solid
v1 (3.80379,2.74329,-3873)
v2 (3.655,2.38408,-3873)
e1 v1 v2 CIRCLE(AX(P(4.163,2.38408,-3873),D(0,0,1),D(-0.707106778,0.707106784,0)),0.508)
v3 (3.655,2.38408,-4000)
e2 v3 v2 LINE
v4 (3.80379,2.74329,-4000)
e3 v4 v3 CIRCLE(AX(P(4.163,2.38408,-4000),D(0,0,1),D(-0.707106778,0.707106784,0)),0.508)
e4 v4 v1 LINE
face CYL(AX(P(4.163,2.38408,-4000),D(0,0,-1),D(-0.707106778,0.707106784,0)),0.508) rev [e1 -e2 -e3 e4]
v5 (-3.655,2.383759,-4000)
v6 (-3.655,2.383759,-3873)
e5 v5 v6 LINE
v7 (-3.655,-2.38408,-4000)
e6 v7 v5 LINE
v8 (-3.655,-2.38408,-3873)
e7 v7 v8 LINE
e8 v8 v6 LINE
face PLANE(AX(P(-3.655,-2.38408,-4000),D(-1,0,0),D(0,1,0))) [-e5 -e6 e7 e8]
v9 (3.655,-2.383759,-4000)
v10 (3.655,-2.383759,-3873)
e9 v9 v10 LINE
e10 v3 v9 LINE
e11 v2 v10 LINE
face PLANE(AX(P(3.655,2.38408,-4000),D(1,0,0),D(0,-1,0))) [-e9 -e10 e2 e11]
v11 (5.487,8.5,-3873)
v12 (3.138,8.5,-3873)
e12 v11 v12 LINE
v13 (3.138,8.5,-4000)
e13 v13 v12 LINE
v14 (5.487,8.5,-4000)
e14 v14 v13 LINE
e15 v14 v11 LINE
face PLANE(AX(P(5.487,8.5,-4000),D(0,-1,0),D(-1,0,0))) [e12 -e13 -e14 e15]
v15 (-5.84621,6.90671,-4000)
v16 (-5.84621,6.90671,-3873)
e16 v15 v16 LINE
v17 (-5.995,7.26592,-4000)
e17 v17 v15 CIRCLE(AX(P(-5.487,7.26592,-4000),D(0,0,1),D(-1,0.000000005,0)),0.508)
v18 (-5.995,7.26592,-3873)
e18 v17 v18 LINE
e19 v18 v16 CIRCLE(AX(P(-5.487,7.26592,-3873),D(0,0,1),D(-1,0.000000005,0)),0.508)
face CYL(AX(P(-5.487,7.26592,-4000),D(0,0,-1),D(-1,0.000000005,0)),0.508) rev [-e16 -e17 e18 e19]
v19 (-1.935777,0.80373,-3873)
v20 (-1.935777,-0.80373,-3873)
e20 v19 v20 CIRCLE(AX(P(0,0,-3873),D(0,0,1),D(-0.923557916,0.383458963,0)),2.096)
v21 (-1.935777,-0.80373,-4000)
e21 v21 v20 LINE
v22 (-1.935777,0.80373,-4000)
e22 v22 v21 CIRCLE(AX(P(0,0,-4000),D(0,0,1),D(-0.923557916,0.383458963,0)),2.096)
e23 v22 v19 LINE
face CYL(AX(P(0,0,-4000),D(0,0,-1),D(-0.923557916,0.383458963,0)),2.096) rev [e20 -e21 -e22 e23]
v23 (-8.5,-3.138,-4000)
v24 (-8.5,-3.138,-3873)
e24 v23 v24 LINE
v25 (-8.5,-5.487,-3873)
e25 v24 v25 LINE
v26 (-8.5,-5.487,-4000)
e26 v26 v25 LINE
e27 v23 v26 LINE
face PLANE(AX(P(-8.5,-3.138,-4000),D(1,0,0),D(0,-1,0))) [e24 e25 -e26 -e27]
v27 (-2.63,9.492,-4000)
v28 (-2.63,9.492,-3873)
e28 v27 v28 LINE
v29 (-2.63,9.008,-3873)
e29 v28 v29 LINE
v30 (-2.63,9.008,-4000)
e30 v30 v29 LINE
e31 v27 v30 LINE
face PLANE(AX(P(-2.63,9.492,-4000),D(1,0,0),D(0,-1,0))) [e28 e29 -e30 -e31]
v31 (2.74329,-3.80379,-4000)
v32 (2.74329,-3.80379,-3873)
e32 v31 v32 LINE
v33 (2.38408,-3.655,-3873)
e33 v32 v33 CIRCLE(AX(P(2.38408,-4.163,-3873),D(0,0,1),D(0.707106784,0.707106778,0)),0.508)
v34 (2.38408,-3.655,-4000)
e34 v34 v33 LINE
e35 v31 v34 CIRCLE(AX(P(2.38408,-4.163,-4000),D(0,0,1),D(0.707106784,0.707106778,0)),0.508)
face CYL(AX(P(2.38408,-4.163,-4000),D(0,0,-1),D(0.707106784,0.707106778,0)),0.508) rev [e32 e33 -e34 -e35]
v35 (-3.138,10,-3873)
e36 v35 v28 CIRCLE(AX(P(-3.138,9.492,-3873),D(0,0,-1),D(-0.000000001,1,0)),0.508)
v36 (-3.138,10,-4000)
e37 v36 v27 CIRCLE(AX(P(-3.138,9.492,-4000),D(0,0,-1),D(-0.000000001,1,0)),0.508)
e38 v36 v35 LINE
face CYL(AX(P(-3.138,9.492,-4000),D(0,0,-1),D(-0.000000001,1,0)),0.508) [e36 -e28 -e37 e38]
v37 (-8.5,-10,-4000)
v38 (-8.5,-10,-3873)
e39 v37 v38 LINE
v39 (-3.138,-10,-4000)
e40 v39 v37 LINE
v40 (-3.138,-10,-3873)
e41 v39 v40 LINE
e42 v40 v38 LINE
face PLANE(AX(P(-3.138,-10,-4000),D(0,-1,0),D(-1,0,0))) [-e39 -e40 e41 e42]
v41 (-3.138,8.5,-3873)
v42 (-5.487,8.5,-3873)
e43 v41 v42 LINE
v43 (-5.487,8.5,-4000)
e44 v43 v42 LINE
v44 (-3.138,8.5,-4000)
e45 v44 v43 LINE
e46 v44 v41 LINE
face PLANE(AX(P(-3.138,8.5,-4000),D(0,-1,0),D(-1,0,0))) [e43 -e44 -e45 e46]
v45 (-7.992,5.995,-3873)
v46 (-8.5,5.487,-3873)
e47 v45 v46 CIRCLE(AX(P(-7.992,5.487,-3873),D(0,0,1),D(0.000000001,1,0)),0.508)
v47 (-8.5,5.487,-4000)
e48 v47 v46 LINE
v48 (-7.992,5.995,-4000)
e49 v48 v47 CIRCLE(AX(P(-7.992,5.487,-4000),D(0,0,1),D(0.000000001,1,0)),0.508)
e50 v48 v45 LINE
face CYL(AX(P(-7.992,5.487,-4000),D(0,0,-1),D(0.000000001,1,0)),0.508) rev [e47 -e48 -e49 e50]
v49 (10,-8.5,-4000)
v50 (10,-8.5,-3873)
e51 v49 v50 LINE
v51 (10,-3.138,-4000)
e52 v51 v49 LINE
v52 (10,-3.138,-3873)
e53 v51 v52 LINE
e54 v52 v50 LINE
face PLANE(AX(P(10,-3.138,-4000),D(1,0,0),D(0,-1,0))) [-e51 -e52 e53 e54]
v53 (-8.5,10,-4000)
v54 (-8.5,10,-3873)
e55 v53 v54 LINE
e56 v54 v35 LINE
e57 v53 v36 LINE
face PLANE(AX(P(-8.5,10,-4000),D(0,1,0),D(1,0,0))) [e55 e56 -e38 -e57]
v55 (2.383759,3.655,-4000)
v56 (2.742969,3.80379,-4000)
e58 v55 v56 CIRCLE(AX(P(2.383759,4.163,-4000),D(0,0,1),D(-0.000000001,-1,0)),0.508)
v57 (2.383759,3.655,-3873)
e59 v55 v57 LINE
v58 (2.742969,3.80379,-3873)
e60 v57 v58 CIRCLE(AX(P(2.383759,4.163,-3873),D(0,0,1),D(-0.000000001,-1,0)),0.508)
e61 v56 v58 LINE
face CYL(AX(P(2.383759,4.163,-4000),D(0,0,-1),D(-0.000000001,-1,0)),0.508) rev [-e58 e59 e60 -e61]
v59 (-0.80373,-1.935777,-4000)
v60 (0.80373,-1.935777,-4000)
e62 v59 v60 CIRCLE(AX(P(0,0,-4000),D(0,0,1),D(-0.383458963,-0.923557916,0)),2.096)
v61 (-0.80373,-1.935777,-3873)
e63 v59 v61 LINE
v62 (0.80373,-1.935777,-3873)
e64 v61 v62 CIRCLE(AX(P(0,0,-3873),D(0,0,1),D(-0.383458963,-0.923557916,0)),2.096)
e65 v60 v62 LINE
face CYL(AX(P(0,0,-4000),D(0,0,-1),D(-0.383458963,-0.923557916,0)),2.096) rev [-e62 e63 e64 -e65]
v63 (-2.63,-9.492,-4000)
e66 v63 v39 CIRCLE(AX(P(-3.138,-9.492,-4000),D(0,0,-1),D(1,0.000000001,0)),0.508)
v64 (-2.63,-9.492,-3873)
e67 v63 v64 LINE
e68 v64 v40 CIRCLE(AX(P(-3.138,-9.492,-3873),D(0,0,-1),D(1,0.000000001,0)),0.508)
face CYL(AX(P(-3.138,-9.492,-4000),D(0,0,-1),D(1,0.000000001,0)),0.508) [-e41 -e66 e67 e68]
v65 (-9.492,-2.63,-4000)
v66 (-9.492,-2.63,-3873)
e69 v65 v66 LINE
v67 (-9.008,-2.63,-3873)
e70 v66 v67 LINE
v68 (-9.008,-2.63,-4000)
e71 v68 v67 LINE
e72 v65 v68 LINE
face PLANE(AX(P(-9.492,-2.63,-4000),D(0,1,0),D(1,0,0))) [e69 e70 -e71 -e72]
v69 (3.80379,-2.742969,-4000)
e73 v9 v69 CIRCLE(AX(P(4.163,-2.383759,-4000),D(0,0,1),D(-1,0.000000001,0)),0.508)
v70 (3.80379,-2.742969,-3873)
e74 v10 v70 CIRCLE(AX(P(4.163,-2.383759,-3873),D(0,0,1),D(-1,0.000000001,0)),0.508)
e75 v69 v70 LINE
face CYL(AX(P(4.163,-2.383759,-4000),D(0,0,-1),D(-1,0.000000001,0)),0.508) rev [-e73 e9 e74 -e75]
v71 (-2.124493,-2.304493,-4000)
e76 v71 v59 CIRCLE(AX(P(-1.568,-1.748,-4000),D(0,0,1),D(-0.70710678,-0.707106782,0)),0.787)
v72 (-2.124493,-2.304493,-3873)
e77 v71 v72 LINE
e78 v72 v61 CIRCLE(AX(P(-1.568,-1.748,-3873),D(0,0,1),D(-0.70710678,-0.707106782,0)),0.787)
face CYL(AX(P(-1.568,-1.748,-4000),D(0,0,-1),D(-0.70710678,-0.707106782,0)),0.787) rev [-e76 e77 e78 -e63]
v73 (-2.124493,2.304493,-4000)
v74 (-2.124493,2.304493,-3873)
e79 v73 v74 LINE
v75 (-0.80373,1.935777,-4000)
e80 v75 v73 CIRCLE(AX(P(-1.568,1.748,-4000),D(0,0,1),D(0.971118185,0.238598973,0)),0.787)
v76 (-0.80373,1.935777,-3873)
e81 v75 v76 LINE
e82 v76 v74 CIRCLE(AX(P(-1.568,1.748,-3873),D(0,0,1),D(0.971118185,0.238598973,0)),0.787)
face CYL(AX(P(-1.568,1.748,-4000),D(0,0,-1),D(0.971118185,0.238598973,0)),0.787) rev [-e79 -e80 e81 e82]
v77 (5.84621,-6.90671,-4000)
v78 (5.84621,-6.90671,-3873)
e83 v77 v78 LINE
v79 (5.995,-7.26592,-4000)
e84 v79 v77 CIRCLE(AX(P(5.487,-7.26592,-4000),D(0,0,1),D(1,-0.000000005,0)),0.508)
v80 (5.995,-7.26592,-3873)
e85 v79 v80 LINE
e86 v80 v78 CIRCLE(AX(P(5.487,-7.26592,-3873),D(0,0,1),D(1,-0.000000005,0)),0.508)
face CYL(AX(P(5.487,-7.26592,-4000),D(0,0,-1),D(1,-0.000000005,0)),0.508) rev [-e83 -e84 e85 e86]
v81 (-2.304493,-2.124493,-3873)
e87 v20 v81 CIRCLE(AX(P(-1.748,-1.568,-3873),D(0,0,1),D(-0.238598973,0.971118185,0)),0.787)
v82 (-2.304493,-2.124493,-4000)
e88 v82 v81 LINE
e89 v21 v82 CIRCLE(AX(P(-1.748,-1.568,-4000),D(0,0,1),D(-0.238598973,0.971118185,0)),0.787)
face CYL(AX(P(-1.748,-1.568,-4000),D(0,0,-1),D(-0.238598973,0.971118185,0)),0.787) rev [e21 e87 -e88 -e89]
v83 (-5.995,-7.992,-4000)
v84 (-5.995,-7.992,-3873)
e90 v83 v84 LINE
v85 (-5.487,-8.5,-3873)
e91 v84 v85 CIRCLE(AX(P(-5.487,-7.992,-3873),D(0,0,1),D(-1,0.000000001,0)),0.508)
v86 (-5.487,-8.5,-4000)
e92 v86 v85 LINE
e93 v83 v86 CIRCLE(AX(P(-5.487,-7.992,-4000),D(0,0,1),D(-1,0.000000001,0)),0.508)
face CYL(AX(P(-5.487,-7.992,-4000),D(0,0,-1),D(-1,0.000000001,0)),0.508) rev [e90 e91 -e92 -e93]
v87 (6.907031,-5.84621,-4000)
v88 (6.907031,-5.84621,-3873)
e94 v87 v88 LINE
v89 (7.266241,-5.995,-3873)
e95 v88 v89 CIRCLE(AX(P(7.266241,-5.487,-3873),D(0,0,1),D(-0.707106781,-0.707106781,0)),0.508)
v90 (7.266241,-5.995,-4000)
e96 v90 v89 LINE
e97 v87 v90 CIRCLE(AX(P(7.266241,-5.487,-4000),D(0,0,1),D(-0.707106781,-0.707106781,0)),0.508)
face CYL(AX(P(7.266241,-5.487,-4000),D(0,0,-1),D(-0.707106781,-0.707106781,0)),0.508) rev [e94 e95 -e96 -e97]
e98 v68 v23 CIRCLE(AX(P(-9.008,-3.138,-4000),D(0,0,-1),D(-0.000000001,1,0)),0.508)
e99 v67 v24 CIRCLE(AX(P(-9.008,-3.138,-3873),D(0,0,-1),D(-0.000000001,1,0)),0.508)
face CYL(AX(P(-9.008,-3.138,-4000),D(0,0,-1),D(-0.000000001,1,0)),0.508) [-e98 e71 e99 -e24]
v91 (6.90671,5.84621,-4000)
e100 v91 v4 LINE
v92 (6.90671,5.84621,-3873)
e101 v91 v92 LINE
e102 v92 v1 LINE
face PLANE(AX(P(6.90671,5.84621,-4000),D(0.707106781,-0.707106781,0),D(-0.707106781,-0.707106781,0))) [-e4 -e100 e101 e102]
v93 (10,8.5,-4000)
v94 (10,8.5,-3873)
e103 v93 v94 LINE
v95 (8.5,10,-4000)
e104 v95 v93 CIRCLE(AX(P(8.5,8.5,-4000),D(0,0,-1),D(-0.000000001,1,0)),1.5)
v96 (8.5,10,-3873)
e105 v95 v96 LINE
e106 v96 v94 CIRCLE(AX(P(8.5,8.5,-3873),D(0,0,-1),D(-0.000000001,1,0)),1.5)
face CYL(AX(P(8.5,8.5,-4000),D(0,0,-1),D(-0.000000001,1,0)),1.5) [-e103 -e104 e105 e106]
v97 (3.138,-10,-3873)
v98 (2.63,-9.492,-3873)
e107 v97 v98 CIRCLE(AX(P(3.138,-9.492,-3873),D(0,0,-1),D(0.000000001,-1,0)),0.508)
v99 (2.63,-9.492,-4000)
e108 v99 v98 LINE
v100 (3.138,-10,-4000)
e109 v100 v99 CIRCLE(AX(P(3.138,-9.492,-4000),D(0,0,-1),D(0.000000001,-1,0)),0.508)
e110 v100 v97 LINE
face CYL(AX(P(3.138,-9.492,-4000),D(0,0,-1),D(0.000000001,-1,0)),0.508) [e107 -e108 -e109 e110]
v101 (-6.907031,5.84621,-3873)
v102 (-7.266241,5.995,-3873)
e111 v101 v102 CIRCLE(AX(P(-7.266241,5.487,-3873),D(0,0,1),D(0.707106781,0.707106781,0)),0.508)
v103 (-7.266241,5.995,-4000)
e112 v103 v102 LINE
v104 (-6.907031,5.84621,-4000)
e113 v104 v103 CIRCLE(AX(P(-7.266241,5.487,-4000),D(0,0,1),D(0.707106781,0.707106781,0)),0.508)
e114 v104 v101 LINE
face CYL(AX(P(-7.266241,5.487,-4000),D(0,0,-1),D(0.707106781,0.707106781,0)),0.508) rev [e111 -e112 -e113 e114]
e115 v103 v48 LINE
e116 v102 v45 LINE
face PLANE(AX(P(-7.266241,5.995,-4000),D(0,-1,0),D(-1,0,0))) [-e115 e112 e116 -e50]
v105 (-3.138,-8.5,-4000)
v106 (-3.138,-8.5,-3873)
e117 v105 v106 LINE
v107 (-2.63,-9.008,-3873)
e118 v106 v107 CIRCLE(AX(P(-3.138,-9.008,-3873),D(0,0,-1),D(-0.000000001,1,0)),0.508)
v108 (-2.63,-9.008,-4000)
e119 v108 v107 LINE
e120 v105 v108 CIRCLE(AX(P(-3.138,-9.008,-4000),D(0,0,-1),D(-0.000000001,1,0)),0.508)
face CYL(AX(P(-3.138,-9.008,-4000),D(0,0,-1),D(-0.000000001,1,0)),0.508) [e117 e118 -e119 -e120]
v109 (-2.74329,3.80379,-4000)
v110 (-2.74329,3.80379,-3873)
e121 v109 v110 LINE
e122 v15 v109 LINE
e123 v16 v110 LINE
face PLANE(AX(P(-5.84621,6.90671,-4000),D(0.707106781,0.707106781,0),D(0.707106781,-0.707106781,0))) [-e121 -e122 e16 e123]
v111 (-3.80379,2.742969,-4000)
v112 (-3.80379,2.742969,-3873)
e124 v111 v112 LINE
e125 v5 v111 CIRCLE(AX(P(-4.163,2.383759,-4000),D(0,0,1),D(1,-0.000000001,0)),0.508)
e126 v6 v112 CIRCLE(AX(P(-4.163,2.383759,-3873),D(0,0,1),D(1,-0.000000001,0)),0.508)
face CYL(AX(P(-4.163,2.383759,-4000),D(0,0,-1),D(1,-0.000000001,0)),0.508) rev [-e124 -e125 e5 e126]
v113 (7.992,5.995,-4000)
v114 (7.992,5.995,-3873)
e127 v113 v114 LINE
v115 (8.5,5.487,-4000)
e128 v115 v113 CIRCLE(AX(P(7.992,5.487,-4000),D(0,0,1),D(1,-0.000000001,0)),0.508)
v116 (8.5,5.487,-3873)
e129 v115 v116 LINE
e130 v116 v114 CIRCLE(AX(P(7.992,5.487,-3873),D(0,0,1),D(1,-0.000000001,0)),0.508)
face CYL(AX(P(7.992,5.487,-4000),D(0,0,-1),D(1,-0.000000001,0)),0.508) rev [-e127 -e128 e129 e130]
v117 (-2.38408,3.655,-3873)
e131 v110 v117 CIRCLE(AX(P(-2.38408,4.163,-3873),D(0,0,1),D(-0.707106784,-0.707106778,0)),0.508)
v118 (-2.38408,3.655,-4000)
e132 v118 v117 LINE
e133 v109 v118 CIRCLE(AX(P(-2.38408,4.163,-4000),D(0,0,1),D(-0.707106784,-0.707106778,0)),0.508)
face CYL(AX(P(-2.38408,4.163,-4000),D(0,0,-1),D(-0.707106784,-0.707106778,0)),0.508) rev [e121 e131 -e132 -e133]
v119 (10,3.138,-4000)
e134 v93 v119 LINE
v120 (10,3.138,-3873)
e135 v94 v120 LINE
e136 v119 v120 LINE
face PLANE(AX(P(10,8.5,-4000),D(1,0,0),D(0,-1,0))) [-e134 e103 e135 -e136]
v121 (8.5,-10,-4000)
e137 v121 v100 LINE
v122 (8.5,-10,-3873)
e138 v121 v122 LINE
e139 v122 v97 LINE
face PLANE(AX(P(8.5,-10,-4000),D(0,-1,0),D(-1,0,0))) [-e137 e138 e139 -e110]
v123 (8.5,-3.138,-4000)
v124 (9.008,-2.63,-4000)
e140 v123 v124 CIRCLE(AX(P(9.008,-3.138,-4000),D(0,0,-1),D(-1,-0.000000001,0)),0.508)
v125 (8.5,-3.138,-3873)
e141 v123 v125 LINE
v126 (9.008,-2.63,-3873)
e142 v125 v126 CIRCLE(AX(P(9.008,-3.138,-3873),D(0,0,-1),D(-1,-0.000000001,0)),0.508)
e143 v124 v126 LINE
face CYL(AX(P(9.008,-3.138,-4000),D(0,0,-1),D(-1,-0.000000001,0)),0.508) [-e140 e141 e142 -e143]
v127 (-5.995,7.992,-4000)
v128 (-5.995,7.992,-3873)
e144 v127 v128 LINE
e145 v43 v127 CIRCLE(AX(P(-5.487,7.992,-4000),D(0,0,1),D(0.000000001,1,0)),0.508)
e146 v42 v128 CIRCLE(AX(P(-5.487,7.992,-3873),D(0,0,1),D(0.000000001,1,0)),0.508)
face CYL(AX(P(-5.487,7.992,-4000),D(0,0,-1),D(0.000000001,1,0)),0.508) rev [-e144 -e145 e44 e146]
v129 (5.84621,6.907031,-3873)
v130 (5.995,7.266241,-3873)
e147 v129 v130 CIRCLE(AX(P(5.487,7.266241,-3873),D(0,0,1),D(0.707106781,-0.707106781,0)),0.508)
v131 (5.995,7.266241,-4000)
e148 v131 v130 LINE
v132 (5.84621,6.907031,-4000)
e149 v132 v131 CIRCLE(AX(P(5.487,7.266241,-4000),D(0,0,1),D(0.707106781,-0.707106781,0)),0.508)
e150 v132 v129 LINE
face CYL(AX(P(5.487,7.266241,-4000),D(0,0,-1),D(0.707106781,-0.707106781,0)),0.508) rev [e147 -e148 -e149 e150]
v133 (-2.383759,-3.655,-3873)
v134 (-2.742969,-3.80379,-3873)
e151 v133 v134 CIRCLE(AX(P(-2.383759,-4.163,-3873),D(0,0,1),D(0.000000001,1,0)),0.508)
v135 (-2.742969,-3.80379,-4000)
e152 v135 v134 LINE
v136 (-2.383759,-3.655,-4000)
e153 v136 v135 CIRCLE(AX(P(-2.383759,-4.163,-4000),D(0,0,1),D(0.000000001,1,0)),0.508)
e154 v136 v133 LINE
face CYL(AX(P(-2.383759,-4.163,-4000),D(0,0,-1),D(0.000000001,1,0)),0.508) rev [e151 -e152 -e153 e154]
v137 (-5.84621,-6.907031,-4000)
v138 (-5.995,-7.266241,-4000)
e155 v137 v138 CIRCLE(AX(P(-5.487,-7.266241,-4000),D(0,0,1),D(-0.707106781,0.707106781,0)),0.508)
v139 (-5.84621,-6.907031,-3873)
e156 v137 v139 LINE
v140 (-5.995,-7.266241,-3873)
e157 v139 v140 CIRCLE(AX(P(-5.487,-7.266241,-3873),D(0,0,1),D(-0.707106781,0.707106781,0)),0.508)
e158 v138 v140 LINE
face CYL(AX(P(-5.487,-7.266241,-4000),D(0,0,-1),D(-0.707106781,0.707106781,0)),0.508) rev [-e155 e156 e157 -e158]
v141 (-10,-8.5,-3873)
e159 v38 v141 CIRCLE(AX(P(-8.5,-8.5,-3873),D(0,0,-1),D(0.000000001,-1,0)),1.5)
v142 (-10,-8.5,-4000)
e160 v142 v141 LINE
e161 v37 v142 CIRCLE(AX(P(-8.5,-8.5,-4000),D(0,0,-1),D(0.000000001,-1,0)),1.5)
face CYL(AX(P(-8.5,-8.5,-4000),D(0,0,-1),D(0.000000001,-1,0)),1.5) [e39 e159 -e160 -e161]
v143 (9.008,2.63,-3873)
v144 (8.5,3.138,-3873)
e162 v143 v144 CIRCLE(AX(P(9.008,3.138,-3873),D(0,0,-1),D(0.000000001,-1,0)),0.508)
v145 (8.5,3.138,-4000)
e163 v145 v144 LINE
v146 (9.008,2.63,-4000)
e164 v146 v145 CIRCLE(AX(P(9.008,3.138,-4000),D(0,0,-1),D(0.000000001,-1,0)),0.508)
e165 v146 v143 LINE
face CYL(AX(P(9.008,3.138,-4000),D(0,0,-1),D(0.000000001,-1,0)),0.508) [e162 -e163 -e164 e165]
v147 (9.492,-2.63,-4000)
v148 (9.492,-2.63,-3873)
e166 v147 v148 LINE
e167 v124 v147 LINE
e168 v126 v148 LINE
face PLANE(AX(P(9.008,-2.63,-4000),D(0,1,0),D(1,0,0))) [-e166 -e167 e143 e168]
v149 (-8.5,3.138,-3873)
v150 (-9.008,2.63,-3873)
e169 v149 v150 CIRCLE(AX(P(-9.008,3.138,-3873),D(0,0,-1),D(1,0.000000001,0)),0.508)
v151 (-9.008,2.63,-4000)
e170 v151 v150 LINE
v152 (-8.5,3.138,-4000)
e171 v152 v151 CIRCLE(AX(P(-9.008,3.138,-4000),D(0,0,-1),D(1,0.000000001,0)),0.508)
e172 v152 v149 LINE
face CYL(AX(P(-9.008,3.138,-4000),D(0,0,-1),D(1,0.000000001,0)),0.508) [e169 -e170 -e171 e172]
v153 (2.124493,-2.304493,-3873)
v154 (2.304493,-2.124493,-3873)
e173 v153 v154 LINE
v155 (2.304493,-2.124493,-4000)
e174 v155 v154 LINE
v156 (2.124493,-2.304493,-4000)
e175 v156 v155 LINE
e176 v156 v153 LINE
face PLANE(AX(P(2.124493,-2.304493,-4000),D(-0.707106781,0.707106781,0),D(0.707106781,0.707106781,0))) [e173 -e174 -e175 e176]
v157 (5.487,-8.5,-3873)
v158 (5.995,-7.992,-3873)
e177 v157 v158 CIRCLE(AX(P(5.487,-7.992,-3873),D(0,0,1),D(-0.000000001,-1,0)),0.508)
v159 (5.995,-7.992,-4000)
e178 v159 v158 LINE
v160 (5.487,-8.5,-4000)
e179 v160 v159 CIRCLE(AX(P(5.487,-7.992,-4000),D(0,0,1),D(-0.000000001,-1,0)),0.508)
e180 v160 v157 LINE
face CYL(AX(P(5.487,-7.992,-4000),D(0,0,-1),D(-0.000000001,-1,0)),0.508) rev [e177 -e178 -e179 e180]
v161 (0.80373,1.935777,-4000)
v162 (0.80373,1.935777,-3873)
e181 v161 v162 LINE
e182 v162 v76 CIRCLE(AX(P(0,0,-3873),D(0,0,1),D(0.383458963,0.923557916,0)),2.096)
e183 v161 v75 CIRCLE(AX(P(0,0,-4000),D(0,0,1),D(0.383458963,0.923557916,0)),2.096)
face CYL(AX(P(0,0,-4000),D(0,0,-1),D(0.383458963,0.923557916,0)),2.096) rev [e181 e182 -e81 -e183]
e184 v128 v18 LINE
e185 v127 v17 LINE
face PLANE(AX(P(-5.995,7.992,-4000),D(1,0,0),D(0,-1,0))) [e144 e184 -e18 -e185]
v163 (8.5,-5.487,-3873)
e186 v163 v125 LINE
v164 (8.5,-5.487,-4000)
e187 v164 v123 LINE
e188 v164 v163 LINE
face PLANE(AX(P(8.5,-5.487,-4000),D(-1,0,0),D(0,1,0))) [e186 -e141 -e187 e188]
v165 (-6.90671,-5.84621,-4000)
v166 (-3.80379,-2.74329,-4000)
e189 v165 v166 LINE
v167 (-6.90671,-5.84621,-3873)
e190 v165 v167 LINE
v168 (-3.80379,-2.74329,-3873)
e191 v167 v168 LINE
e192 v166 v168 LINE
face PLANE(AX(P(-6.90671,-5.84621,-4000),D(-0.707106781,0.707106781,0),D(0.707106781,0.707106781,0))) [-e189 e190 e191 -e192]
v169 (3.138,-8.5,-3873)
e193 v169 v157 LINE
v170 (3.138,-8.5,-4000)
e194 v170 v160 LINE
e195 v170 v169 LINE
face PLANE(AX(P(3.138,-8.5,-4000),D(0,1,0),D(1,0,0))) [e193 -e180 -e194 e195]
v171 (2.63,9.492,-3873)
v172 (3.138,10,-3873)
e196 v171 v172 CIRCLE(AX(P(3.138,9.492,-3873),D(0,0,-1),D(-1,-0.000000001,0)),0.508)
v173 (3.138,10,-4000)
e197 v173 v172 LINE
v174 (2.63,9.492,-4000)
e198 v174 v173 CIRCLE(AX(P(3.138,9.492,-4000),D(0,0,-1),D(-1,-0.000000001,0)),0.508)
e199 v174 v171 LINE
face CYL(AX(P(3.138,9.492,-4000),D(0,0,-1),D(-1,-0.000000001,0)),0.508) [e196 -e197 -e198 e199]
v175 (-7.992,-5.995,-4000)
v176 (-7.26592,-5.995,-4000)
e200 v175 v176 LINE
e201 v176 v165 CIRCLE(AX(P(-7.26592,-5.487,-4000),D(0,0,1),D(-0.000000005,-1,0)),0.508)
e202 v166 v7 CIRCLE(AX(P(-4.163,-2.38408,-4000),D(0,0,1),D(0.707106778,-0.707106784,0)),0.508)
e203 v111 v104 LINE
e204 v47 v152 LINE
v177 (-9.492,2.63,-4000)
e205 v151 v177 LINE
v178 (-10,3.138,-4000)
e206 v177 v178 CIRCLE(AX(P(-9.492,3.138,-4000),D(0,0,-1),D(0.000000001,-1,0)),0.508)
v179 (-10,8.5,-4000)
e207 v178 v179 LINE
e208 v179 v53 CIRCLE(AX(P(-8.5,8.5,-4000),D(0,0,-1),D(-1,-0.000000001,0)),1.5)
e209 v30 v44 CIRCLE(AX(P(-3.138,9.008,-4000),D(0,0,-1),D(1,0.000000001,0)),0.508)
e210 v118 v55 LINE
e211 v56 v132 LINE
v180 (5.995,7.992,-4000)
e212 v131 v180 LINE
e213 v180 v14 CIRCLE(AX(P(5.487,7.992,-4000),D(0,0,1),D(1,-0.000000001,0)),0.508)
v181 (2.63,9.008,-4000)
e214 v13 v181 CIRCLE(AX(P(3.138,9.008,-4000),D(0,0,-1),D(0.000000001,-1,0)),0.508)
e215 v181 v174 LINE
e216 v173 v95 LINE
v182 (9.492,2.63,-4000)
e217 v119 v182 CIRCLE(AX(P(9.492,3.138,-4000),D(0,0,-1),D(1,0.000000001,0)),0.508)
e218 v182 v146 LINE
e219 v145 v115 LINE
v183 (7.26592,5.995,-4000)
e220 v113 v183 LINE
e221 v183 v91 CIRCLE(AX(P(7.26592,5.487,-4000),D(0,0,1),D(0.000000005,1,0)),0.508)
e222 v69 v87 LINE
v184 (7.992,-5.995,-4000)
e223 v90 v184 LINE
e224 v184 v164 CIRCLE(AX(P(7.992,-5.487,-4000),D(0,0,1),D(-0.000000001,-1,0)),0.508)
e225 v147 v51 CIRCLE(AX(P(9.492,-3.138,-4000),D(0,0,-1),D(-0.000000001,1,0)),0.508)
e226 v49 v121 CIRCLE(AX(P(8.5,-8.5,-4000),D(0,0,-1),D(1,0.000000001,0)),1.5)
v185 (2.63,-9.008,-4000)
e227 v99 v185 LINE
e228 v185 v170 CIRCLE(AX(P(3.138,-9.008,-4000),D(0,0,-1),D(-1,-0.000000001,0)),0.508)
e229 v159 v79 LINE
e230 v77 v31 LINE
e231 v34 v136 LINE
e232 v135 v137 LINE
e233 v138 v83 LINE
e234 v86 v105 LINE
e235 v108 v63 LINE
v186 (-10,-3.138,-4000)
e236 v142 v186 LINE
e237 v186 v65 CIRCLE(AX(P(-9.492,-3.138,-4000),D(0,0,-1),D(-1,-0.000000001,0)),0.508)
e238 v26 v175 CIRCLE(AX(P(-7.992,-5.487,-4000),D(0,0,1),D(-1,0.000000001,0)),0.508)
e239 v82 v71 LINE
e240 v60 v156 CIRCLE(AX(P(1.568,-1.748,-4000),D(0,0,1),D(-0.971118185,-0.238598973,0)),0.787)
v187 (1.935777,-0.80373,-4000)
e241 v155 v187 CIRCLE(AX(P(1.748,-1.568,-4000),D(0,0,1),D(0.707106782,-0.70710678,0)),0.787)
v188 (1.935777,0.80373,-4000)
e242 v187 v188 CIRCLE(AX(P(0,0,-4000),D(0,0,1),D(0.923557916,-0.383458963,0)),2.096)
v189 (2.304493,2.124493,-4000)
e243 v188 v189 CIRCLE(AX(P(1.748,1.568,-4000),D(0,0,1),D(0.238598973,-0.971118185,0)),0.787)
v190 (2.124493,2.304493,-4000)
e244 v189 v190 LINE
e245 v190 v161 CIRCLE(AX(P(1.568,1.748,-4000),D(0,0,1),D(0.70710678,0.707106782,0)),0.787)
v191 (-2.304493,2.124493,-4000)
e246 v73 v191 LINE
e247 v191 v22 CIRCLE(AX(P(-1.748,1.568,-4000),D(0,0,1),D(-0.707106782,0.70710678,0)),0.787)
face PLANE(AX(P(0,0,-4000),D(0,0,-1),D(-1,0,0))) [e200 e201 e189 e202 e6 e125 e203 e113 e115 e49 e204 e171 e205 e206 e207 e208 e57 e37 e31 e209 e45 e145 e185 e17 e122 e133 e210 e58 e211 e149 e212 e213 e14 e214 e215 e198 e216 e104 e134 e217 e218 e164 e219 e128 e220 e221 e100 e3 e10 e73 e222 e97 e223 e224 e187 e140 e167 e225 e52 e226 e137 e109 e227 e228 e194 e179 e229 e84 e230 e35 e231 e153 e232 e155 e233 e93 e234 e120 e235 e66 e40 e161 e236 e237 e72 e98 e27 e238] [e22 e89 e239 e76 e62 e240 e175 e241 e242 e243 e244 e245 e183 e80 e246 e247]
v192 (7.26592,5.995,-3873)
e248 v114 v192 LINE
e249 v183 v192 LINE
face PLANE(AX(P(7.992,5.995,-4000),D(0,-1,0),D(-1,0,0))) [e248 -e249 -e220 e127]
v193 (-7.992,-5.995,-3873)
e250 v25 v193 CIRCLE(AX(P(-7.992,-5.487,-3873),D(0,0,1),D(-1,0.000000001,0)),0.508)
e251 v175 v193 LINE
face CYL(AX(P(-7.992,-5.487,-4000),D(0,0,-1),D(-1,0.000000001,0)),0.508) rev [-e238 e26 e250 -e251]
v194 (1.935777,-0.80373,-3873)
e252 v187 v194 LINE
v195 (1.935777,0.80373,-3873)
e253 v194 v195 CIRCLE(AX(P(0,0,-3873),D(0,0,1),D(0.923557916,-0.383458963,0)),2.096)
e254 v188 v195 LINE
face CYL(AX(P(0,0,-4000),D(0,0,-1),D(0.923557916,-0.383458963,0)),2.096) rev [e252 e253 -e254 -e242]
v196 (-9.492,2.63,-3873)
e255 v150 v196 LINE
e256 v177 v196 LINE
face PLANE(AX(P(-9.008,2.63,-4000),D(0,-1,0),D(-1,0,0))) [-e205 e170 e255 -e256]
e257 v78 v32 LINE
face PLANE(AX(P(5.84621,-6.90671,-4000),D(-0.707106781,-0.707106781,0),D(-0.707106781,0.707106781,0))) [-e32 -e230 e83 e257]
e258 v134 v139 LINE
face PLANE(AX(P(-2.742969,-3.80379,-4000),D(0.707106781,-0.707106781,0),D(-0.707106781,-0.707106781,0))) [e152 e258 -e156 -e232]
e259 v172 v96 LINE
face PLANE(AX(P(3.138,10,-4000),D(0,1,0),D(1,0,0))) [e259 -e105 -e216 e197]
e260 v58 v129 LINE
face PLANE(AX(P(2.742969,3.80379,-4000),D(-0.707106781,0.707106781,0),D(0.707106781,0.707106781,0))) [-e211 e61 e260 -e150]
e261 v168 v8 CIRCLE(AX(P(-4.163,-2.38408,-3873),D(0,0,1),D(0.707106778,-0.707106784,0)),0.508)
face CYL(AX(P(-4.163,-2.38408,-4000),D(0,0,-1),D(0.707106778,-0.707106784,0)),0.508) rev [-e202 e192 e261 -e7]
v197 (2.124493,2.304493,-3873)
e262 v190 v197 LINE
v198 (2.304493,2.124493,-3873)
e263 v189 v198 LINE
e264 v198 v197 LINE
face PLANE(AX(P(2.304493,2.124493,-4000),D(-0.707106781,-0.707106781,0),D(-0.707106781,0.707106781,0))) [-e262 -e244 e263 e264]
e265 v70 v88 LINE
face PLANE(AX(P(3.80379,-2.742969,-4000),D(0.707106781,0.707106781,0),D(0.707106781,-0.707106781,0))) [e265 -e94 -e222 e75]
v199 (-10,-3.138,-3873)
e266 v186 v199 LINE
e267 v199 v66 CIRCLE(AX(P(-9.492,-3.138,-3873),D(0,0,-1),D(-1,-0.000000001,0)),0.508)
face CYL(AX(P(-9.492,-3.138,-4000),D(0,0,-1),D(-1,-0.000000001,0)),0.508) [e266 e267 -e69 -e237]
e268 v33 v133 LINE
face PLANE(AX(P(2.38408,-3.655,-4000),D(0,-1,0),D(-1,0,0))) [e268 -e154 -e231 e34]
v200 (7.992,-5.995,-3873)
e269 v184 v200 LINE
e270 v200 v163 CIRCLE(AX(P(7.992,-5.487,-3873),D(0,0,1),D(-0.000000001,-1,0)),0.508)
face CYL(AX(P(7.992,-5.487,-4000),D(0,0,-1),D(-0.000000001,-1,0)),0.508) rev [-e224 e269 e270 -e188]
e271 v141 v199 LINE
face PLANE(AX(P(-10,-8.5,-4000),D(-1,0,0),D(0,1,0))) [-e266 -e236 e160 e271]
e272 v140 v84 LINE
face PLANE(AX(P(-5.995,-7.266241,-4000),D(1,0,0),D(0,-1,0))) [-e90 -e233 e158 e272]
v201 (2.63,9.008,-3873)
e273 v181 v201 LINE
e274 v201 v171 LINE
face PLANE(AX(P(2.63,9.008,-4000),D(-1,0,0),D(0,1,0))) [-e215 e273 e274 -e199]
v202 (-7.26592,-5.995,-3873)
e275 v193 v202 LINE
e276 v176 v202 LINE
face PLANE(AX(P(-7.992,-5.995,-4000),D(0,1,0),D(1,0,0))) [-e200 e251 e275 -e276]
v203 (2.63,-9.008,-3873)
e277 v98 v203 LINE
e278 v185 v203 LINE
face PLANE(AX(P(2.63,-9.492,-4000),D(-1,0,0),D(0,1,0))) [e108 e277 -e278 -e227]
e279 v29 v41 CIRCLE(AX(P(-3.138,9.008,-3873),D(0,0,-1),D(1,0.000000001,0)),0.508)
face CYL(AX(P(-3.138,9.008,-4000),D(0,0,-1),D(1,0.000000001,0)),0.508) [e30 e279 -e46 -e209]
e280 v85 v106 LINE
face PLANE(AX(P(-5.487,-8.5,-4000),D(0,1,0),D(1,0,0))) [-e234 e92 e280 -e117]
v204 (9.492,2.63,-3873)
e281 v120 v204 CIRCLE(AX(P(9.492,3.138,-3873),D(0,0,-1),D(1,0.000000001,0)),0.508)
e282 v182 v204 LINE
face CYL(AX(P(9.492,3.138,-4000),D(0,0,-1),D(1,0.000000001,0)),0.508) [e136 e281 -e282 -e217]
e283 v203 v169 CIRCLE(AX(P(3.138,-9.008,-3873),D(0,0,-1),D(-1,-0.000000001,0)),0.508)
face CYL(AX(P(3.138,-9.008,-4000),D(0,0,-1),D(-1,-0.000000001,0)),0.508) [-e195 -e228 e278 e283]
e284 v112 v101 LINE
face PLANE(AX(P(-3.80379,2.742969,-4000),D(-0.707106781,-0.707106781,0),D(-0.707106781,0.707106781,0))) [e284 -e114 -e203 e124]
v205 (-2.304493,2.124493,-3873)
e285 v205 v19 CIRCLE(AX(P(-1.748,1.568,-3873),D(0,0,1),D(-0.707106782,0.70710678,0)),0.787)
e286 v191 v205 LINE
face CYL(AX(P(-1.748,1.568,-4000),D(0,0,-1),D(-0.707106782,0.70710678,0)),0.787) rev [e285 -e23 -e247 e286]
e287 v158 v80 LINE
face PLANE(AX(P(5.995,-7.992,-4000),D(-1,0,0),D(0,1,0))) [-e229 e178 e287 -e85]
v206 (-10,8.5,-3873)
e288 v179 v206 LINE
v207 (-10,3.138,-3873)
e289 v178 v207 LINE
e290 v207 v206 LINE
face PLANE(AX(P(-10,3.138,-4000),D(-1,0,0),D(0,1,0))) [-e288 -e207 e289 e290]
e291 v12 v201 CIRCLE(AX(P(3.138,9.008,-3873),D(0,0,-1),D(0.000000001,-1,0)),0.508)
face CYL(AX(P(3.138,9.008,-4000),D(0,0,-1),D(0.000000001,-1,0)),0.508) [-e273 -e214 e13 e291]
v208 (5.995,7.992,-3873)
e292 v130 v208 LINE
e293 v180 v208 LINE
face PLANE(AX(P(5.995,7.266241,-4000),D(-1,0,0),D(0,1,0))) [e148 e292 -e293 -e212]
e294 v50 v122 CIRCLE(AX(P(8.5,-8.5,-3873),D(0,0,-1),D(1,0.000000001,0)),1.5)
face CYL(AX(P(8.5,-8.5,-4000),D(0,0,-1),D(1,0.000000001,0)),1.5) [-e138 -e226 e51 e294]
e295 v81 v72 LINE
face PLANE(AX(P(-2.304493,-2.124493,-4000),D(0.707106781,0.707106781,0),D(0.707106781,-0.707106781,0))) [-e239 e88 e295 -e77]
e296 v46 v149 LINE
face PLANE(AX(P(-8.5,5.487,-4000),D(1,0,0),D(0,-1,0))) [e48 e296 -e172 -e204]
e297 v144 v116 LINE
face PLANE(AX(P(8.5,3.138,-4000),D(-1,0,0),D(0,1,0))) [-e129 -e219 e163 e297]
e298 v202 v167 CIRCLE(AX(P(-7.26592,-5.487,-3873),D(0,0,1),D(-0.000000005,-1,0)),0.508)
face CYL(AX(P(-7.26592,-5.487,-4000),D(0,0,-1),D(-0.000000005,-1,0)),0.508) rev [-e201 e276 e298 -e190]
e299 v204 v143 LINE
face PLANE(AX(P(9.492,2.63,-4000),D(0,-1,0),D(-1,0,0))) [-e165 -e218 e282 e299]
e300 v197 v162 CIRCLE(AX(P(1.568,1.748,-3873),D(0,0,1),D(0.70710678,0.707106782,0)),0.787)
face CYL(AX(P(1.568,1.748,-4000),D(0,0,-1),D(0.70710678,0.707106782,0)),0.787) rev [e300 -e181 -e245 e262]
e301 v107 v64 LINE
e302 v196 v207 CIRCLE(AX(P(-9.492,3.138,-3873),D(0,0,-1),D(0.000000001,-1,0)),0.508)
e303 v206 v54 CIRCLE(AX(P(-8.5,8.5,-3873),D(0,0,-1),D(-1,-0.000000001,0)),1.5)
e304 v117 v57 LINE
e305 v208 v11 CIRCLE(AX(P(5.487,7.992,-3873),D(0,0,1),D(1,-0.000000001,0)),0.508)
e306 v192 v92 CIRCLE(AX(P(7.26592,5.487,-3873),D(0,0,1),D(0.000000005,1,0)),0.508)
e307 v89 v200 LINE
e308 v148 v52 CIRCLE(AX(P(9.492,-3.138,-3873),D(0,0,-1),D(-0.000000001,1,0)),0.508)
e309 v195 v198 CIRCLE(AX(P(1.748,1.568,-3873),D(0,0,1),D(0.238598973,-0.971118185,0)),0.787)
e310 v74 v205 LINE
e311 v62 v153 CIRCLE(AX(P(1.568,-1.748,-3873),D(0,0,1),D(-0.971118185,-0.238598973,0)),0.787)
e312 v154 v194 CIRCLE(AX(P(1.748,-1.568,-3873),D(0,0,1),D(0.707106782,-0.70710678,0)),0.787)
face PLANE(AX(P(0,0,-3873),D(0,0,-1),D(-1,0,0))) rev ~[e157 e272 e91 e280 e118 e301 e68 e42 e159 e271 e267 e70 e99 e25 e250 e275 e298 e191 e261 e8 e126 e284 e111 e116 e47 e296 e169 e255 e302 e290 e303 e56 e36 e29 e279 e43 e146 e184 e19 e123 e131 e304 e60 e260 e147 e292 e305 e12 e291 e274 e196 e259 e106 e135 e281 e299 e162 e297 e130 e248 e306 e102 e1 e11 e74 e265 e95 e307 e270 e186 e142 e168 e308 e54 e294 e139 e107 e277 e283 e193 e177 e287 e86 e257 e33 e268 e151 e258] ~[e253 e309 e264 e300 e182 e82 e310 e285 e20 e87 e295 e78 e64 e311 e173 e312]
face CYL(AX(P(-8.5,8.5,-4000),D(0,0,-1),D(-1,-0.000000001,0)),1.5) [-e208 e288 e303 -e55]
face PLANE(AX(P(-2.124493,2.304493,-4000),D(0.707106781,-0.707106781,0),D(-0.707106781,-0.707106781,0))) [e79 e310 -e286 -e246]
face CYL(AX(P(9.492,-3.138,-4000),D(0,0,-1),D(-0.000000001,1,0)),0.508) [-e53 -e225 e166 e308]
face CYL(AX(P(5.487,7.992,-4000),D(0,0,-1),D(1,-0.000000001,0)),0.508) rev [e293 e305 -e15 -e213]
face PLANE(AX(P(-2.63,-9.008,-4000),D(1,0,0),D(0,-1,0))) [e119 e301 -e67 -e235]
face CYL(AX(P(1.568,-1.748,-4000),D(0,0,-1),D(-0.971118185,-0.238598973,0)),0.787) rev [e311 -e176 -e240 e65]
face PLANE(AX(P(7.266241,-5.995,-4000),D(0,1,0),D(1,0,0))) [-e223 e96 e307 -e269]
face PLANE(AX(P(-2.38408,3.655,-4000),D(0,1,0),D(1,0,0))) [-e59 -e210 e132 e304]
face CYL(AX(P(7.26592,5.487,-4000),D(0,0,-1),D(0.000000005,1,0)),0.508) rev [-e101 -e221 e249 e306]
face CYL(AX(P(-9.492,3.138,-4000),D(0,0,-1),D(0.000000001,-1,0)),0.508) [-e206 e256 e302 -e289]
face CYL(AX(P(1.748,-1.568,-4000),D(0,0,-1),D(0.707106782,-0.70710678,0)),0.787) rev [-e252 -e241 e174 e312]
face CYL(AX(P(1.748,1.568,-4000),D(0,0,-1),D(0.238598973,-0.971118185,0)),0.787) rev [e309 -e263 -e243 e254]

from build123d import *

# Parameters (mm, degrees)
BOSS_EXTRUDE1_DEPTH = 127


with BuildPart() as part:
    # Sketch1 → Boss-Extrude1 (new body)
    with BuildSketch(Plane(origin=(0, 0, -4000), x_dir=(-1, 0, 0), z_dir=(0, 0, -1))):
        with BuildLine():
            Line((10, -8.5), (10, -3.138))
            ThreePointArc((10, -3.138), (9.851210245, -2.778789755), (9.492, -2.63))
            Line((9.492, -2.63), (9.008, -2.63))
            ThreePointArc((9.008, -2.63), (8.648789755, -2.778789755), (8.5, -3.138))
            Line((8.5, -3.138), (8.5, -5.487))
            ThreePointArc((8.5, -5.487), (8.351210245, -5.846210245), (7.992, -5.995))
            Line((7.992, -5.995), (7.26592049, -5.995))
            ThreePointArc((7.26592049, -5.995), (7.071517306, -5.956330803), (6.906710245, -5.846210245))
            Line((6.906710245, -5.846210245), (3.803789755, -2.743289755))
            ThreePointArc((3.803789755, -2.743289755), (3.693669197, -2.578482694), (3.655, -2.38407951))
            Line((3.655, -2.38407951), (3.655, 2.383759167))
            ThreePointArc((3.655, 2.383759167), (3.693669197, 2.57816235), (3.803789755, 2.742969412))
            Line((3.803789755, 2.742969412), (6.907030588, 5.846210245))
            ThreePointArc((6.907030588, 5.846210245), (7.07183765, 5.956330803), (7.266240833, 5.995))
            Line((7.266240833, 5.995), (7.992, 5.995))
            ThreePointArc((7.992, 5.995), (8.351210245, 5.846210245), (8.5, 5.487))
            Line((8.5, 5.487), (8.5, 3.138))
            ThreePointArc((8.5, 3.138), (8.648789755, 2.778789755), (9.008, 2.63))
            Line((9.008, 2.63), (9.492, 2.63))
            ThreePointArc((9.492, 2.63), (9.851210245, 2.778789755), (10, 3.138))
            Line((10, 3.138), (10, 8.5))
            ThreePointArc((10, 8.5), (9.560660172, 9.560660172), (8.5, 10))
            Line((8.5, 10), (3.138, 10))
            ThreePointArc((3.138, 10), (2.778789755, 9.851210245), (2.63, 9.492))
            Line((2.63, 9.492), (2.63, 9.008))
            ThreePointArc((2.63, 9.008), (2.778789755, 8.648789755), (3.138, 8.5))
            Line((3.138, 8.5), (5.487, 8.5))
            ThreePointArc((5.487, 8.5), (5.846210245, 8.351210245), (5.995, 7.992))
            Line((5.995, 7.992), (5.995, 7.26592049))
            ThreePointArc((5.995, 7.26592049), (5.956330803, 7.071517306), (5.846210245, 6.906710245))
            Line((5.846210245, 6.906710245), (2.743289755, 3.803789755))
            ThreePointArc((2.743289755, 3.803789755), (2.578482694, 3.693669197), (2.38407951, 3.655))
            Line((2.38407951, 3.655), (-2.383759167, 3.655))
            ThreePointArc((-2.383759167, 3.655), (-2.57816235, 3.693669197), (-2.742969412, 3.803789755))
            Line((-2.742969412, 3.803789755), (-5.846210245, 6.907030588))
            ThreePointArc((-5.846210245, 6.907030588), (-5.956330803, 7.07183765), (-5.995, 7.266240833))
            Line((-5.995, 7.266240833), (-5.995, 7.992))
            ThreePointArc((-5.995, 7.992), (-5.846210245, 8.351210245), (-5.487, 8.5))
            Line((-5.487, 8.5), (-3.138, 8.5))
            ThreePointArc((-3.138, 8.5), (-2.778789755, 8.648789755), (-2.63, 9.008))
            Line((-2.63, 9.008), (-2.63, 9.492))
            ThreePointArc((-2.63, 9.492), (-2.778789755, 9.851210245), (-3.138, 10))
            Line((-3.138, 10), (-8.5, 10))
            ThreePointArc((-8.5, 10), (-9.560660172, 9.560660172), (-10, 8.5))
            Line((-10, 8.5), (-10, 3.138))
            ThreePointArc((-10, 3.138), (-9.851210245, 2.778789755), (-9.492, 2.63))
            Line((-9.492, 2.63), (-9.008, 2.63))
            ThreePointArc((-9.008, 2.63), (-8.648789755, 2.778789755), (-8.5, 3.138))
            Line((-8.5, 3.138), (-8.5, 5.487))
            ThreePointArc((-8.5, 5.487), (-8.351210245, 5.846210245), (-7.992, 5.995))
            Line((-7.992, 5.995), (-7.26592049, 5.995))
            ThreePointArc((-7.26592049, 5.995), (-7.071517306, 5.956330803), (-6.906710245, 5.846210245))
            Line((-6.906710245, 5.846210245), (-3.803789755, 2.743289755))
            ThreePointArc((-3.803789755, 2.743289755), (-3.693669197, 2.578482694), (-3.655, 2.38407951))
            Line((-3.655, 2.38407951), (-3.655, -2.383759167))
            ThreePointArc((-3.655, -2.383759167), (-3.693669197, -2.57816235), (-3.803789755, -2.742969412))
            Line((-3.803789755, -2.742969412), (-6.907030588, -5.846210245))
            ThreePointArc((-6.907030588, -5.846210245), (-7.07183765, -5.956330803), (-7.266240833, -5.995))
            Line((-7.266240833, -5.995), (-7.992, -5.995))
            ThreePointArc((-7.992, -5.995), (-8.351210245, -5.846210245), (-8.5, -5.487))
            Line((-8.5, -5.487), (-8.5, -3.138))
            ThreePointArc((-8.5, -3.138), (-8.648789755, -2.778789755), (-9.008, -2.63))
            Line((-9.008, -2.63), (-9.492, -2.63))
            ThreePointArc((-9.492, -2.63), (-9.851210245, -2.778789755), (-10, -3.138))
            Line((-10, -3.138), (-10, -8.5))
            ThreePointArc((-10, -8.5), (-9.560660172, -9.560660172), (-8.5, -10))
            Line((-8.5, -10), (-3.138, -10))
            ThreePointArc((-3.138, -10), (-2.778789755, -9.851210245), (-2.63, -9.492))
            Line((-2.63, -9.492), (-2.63, -9.008))
            ThreePointArc((-2.63, -9.008), (-2.778789755, -8.648789755), (-3.138, -8.5))
            Line((-3.138, -8.5), (-5.487, -8.5))
            ThreePointArc((-5.487, -8.5), (-5.846210245, -8.351210245), (-5.995, -7.992))
            Line((-5.995, -7.992), (-5.995, -7.26592049))
            ThreePointArc((-5.995, -7.26592049), (-5.956330803, -7.071517306), (-5.846210245, -6.906710245))
            Line((-5.846210245, -6.906710245), (-2.743289755, -3.803789755))
            ThreePointArc((-2.743289755, -3.803789755), (-2.578482694, -3.693669197), (-2.38407951, -3.655))
            Line((-2.38407951, -3.655), (2.383759167, -3.655))
            ThreePointArc((2.383759167, -3.655), (2.57816235, -3.693669197), (2.742969412, -3.803789755))
            Line((2.742969412, -3.803789755), (5.846210245, -6.907030588))
            ThreePointArc((5.846210245, -6.907030588), (5.956330803, -7.07183765), (5.995, -7.266240833))
            Line((5.995, -7.266240833), (5.995, -7.992))
            ThreePointArc((5.995, -7.992), (5.846210245, -8.351210245), (5.487, -8.5))
            Line((5.487, -8.5), (3.138, -8.5))
            ThreePointArc((3.138, -8.5), (2.778789755, -8.648789755), (2.63, -9.008))
            Line((2.63, -9.008), (2.63, -9.492))
            ThreePointArc((2.63, -9.492), (2.778789755, -9.851210245), (3.138, -10))
            Line((3.138, -10), (8.5, -10))
            ThreePointArc((8.5, -10), (9.560660172, -9.560660172), (10, -8.5))
        make_face()
        with BuildLine():
            Line((2.304493037, -2.124493037), (2.124493037, -2.304493037))
            ThreePointArc((2.124493037, -2.304493037), (1.35638567, -2.506016078), (0.803729988, -1.935777391))
            ThreePointArc((0.803729988, -1.935777391), (0, -2.096), (-0.803729988, -1.935777391))
            ThreePointArc((-0.803729988, -1.935777391), (-1.35638567, -2.506016078), (-2.124493037, -2.304493037))
            Line((-2.124493037, -2.304493037), (-2.304493037, -2.124493037))
            ThreePointArc((-2.304493037, -2.124493037), (-2.506016078, -1.35638567), (-1.935777391, -0.803729988))
            ThreePointArc((-1.935777391, -0.803729988), (-2.096, 0), (-1.935777391, 0.803729988))
            ThreePointArc((-1.935777391, 0.803729988), (-2.506016078, 1.35638567), (-2.304493037, 2.124493037))
            Line((-2.304493037, 2.124493037), (-2.124493037, 2.304493037))
            ThreePointArc((-2.124493037, 2.304493037), (-1.35638567, 2.506016078), (-0.803729988, 1.935777391))
            ThreePointArc((-0.803729988, 1.935777391), (0, 2.096), (0.803729988, 1.935777391))
            ThreePointArc((0.803729988, 1.935777391), (1.35638567, 2.506016078), (2.124493037, 2.304493037))
            Line((2.124493037, 2.304493037), (2.304493037, 2.124493037))
            ThreePointArc((2.304493037, 2.124493037), (2.506016078, 1.35638567), (1.935777391, 0.803729988))
            ThreePointArc((1.935777391, 0.803729988), (2.096, 0), (1.935777391, -0.803729988))
            ThreePointArc((1.935777391, -0.803729988), (2.506016078, -1.35638567), (2.304493037, -2.124493037))
        make_face(mode=Mode.SUBTRACT)
    extrude(amount=-BOSS_EXTRUDE1_DEPTH)


solid = part.part
